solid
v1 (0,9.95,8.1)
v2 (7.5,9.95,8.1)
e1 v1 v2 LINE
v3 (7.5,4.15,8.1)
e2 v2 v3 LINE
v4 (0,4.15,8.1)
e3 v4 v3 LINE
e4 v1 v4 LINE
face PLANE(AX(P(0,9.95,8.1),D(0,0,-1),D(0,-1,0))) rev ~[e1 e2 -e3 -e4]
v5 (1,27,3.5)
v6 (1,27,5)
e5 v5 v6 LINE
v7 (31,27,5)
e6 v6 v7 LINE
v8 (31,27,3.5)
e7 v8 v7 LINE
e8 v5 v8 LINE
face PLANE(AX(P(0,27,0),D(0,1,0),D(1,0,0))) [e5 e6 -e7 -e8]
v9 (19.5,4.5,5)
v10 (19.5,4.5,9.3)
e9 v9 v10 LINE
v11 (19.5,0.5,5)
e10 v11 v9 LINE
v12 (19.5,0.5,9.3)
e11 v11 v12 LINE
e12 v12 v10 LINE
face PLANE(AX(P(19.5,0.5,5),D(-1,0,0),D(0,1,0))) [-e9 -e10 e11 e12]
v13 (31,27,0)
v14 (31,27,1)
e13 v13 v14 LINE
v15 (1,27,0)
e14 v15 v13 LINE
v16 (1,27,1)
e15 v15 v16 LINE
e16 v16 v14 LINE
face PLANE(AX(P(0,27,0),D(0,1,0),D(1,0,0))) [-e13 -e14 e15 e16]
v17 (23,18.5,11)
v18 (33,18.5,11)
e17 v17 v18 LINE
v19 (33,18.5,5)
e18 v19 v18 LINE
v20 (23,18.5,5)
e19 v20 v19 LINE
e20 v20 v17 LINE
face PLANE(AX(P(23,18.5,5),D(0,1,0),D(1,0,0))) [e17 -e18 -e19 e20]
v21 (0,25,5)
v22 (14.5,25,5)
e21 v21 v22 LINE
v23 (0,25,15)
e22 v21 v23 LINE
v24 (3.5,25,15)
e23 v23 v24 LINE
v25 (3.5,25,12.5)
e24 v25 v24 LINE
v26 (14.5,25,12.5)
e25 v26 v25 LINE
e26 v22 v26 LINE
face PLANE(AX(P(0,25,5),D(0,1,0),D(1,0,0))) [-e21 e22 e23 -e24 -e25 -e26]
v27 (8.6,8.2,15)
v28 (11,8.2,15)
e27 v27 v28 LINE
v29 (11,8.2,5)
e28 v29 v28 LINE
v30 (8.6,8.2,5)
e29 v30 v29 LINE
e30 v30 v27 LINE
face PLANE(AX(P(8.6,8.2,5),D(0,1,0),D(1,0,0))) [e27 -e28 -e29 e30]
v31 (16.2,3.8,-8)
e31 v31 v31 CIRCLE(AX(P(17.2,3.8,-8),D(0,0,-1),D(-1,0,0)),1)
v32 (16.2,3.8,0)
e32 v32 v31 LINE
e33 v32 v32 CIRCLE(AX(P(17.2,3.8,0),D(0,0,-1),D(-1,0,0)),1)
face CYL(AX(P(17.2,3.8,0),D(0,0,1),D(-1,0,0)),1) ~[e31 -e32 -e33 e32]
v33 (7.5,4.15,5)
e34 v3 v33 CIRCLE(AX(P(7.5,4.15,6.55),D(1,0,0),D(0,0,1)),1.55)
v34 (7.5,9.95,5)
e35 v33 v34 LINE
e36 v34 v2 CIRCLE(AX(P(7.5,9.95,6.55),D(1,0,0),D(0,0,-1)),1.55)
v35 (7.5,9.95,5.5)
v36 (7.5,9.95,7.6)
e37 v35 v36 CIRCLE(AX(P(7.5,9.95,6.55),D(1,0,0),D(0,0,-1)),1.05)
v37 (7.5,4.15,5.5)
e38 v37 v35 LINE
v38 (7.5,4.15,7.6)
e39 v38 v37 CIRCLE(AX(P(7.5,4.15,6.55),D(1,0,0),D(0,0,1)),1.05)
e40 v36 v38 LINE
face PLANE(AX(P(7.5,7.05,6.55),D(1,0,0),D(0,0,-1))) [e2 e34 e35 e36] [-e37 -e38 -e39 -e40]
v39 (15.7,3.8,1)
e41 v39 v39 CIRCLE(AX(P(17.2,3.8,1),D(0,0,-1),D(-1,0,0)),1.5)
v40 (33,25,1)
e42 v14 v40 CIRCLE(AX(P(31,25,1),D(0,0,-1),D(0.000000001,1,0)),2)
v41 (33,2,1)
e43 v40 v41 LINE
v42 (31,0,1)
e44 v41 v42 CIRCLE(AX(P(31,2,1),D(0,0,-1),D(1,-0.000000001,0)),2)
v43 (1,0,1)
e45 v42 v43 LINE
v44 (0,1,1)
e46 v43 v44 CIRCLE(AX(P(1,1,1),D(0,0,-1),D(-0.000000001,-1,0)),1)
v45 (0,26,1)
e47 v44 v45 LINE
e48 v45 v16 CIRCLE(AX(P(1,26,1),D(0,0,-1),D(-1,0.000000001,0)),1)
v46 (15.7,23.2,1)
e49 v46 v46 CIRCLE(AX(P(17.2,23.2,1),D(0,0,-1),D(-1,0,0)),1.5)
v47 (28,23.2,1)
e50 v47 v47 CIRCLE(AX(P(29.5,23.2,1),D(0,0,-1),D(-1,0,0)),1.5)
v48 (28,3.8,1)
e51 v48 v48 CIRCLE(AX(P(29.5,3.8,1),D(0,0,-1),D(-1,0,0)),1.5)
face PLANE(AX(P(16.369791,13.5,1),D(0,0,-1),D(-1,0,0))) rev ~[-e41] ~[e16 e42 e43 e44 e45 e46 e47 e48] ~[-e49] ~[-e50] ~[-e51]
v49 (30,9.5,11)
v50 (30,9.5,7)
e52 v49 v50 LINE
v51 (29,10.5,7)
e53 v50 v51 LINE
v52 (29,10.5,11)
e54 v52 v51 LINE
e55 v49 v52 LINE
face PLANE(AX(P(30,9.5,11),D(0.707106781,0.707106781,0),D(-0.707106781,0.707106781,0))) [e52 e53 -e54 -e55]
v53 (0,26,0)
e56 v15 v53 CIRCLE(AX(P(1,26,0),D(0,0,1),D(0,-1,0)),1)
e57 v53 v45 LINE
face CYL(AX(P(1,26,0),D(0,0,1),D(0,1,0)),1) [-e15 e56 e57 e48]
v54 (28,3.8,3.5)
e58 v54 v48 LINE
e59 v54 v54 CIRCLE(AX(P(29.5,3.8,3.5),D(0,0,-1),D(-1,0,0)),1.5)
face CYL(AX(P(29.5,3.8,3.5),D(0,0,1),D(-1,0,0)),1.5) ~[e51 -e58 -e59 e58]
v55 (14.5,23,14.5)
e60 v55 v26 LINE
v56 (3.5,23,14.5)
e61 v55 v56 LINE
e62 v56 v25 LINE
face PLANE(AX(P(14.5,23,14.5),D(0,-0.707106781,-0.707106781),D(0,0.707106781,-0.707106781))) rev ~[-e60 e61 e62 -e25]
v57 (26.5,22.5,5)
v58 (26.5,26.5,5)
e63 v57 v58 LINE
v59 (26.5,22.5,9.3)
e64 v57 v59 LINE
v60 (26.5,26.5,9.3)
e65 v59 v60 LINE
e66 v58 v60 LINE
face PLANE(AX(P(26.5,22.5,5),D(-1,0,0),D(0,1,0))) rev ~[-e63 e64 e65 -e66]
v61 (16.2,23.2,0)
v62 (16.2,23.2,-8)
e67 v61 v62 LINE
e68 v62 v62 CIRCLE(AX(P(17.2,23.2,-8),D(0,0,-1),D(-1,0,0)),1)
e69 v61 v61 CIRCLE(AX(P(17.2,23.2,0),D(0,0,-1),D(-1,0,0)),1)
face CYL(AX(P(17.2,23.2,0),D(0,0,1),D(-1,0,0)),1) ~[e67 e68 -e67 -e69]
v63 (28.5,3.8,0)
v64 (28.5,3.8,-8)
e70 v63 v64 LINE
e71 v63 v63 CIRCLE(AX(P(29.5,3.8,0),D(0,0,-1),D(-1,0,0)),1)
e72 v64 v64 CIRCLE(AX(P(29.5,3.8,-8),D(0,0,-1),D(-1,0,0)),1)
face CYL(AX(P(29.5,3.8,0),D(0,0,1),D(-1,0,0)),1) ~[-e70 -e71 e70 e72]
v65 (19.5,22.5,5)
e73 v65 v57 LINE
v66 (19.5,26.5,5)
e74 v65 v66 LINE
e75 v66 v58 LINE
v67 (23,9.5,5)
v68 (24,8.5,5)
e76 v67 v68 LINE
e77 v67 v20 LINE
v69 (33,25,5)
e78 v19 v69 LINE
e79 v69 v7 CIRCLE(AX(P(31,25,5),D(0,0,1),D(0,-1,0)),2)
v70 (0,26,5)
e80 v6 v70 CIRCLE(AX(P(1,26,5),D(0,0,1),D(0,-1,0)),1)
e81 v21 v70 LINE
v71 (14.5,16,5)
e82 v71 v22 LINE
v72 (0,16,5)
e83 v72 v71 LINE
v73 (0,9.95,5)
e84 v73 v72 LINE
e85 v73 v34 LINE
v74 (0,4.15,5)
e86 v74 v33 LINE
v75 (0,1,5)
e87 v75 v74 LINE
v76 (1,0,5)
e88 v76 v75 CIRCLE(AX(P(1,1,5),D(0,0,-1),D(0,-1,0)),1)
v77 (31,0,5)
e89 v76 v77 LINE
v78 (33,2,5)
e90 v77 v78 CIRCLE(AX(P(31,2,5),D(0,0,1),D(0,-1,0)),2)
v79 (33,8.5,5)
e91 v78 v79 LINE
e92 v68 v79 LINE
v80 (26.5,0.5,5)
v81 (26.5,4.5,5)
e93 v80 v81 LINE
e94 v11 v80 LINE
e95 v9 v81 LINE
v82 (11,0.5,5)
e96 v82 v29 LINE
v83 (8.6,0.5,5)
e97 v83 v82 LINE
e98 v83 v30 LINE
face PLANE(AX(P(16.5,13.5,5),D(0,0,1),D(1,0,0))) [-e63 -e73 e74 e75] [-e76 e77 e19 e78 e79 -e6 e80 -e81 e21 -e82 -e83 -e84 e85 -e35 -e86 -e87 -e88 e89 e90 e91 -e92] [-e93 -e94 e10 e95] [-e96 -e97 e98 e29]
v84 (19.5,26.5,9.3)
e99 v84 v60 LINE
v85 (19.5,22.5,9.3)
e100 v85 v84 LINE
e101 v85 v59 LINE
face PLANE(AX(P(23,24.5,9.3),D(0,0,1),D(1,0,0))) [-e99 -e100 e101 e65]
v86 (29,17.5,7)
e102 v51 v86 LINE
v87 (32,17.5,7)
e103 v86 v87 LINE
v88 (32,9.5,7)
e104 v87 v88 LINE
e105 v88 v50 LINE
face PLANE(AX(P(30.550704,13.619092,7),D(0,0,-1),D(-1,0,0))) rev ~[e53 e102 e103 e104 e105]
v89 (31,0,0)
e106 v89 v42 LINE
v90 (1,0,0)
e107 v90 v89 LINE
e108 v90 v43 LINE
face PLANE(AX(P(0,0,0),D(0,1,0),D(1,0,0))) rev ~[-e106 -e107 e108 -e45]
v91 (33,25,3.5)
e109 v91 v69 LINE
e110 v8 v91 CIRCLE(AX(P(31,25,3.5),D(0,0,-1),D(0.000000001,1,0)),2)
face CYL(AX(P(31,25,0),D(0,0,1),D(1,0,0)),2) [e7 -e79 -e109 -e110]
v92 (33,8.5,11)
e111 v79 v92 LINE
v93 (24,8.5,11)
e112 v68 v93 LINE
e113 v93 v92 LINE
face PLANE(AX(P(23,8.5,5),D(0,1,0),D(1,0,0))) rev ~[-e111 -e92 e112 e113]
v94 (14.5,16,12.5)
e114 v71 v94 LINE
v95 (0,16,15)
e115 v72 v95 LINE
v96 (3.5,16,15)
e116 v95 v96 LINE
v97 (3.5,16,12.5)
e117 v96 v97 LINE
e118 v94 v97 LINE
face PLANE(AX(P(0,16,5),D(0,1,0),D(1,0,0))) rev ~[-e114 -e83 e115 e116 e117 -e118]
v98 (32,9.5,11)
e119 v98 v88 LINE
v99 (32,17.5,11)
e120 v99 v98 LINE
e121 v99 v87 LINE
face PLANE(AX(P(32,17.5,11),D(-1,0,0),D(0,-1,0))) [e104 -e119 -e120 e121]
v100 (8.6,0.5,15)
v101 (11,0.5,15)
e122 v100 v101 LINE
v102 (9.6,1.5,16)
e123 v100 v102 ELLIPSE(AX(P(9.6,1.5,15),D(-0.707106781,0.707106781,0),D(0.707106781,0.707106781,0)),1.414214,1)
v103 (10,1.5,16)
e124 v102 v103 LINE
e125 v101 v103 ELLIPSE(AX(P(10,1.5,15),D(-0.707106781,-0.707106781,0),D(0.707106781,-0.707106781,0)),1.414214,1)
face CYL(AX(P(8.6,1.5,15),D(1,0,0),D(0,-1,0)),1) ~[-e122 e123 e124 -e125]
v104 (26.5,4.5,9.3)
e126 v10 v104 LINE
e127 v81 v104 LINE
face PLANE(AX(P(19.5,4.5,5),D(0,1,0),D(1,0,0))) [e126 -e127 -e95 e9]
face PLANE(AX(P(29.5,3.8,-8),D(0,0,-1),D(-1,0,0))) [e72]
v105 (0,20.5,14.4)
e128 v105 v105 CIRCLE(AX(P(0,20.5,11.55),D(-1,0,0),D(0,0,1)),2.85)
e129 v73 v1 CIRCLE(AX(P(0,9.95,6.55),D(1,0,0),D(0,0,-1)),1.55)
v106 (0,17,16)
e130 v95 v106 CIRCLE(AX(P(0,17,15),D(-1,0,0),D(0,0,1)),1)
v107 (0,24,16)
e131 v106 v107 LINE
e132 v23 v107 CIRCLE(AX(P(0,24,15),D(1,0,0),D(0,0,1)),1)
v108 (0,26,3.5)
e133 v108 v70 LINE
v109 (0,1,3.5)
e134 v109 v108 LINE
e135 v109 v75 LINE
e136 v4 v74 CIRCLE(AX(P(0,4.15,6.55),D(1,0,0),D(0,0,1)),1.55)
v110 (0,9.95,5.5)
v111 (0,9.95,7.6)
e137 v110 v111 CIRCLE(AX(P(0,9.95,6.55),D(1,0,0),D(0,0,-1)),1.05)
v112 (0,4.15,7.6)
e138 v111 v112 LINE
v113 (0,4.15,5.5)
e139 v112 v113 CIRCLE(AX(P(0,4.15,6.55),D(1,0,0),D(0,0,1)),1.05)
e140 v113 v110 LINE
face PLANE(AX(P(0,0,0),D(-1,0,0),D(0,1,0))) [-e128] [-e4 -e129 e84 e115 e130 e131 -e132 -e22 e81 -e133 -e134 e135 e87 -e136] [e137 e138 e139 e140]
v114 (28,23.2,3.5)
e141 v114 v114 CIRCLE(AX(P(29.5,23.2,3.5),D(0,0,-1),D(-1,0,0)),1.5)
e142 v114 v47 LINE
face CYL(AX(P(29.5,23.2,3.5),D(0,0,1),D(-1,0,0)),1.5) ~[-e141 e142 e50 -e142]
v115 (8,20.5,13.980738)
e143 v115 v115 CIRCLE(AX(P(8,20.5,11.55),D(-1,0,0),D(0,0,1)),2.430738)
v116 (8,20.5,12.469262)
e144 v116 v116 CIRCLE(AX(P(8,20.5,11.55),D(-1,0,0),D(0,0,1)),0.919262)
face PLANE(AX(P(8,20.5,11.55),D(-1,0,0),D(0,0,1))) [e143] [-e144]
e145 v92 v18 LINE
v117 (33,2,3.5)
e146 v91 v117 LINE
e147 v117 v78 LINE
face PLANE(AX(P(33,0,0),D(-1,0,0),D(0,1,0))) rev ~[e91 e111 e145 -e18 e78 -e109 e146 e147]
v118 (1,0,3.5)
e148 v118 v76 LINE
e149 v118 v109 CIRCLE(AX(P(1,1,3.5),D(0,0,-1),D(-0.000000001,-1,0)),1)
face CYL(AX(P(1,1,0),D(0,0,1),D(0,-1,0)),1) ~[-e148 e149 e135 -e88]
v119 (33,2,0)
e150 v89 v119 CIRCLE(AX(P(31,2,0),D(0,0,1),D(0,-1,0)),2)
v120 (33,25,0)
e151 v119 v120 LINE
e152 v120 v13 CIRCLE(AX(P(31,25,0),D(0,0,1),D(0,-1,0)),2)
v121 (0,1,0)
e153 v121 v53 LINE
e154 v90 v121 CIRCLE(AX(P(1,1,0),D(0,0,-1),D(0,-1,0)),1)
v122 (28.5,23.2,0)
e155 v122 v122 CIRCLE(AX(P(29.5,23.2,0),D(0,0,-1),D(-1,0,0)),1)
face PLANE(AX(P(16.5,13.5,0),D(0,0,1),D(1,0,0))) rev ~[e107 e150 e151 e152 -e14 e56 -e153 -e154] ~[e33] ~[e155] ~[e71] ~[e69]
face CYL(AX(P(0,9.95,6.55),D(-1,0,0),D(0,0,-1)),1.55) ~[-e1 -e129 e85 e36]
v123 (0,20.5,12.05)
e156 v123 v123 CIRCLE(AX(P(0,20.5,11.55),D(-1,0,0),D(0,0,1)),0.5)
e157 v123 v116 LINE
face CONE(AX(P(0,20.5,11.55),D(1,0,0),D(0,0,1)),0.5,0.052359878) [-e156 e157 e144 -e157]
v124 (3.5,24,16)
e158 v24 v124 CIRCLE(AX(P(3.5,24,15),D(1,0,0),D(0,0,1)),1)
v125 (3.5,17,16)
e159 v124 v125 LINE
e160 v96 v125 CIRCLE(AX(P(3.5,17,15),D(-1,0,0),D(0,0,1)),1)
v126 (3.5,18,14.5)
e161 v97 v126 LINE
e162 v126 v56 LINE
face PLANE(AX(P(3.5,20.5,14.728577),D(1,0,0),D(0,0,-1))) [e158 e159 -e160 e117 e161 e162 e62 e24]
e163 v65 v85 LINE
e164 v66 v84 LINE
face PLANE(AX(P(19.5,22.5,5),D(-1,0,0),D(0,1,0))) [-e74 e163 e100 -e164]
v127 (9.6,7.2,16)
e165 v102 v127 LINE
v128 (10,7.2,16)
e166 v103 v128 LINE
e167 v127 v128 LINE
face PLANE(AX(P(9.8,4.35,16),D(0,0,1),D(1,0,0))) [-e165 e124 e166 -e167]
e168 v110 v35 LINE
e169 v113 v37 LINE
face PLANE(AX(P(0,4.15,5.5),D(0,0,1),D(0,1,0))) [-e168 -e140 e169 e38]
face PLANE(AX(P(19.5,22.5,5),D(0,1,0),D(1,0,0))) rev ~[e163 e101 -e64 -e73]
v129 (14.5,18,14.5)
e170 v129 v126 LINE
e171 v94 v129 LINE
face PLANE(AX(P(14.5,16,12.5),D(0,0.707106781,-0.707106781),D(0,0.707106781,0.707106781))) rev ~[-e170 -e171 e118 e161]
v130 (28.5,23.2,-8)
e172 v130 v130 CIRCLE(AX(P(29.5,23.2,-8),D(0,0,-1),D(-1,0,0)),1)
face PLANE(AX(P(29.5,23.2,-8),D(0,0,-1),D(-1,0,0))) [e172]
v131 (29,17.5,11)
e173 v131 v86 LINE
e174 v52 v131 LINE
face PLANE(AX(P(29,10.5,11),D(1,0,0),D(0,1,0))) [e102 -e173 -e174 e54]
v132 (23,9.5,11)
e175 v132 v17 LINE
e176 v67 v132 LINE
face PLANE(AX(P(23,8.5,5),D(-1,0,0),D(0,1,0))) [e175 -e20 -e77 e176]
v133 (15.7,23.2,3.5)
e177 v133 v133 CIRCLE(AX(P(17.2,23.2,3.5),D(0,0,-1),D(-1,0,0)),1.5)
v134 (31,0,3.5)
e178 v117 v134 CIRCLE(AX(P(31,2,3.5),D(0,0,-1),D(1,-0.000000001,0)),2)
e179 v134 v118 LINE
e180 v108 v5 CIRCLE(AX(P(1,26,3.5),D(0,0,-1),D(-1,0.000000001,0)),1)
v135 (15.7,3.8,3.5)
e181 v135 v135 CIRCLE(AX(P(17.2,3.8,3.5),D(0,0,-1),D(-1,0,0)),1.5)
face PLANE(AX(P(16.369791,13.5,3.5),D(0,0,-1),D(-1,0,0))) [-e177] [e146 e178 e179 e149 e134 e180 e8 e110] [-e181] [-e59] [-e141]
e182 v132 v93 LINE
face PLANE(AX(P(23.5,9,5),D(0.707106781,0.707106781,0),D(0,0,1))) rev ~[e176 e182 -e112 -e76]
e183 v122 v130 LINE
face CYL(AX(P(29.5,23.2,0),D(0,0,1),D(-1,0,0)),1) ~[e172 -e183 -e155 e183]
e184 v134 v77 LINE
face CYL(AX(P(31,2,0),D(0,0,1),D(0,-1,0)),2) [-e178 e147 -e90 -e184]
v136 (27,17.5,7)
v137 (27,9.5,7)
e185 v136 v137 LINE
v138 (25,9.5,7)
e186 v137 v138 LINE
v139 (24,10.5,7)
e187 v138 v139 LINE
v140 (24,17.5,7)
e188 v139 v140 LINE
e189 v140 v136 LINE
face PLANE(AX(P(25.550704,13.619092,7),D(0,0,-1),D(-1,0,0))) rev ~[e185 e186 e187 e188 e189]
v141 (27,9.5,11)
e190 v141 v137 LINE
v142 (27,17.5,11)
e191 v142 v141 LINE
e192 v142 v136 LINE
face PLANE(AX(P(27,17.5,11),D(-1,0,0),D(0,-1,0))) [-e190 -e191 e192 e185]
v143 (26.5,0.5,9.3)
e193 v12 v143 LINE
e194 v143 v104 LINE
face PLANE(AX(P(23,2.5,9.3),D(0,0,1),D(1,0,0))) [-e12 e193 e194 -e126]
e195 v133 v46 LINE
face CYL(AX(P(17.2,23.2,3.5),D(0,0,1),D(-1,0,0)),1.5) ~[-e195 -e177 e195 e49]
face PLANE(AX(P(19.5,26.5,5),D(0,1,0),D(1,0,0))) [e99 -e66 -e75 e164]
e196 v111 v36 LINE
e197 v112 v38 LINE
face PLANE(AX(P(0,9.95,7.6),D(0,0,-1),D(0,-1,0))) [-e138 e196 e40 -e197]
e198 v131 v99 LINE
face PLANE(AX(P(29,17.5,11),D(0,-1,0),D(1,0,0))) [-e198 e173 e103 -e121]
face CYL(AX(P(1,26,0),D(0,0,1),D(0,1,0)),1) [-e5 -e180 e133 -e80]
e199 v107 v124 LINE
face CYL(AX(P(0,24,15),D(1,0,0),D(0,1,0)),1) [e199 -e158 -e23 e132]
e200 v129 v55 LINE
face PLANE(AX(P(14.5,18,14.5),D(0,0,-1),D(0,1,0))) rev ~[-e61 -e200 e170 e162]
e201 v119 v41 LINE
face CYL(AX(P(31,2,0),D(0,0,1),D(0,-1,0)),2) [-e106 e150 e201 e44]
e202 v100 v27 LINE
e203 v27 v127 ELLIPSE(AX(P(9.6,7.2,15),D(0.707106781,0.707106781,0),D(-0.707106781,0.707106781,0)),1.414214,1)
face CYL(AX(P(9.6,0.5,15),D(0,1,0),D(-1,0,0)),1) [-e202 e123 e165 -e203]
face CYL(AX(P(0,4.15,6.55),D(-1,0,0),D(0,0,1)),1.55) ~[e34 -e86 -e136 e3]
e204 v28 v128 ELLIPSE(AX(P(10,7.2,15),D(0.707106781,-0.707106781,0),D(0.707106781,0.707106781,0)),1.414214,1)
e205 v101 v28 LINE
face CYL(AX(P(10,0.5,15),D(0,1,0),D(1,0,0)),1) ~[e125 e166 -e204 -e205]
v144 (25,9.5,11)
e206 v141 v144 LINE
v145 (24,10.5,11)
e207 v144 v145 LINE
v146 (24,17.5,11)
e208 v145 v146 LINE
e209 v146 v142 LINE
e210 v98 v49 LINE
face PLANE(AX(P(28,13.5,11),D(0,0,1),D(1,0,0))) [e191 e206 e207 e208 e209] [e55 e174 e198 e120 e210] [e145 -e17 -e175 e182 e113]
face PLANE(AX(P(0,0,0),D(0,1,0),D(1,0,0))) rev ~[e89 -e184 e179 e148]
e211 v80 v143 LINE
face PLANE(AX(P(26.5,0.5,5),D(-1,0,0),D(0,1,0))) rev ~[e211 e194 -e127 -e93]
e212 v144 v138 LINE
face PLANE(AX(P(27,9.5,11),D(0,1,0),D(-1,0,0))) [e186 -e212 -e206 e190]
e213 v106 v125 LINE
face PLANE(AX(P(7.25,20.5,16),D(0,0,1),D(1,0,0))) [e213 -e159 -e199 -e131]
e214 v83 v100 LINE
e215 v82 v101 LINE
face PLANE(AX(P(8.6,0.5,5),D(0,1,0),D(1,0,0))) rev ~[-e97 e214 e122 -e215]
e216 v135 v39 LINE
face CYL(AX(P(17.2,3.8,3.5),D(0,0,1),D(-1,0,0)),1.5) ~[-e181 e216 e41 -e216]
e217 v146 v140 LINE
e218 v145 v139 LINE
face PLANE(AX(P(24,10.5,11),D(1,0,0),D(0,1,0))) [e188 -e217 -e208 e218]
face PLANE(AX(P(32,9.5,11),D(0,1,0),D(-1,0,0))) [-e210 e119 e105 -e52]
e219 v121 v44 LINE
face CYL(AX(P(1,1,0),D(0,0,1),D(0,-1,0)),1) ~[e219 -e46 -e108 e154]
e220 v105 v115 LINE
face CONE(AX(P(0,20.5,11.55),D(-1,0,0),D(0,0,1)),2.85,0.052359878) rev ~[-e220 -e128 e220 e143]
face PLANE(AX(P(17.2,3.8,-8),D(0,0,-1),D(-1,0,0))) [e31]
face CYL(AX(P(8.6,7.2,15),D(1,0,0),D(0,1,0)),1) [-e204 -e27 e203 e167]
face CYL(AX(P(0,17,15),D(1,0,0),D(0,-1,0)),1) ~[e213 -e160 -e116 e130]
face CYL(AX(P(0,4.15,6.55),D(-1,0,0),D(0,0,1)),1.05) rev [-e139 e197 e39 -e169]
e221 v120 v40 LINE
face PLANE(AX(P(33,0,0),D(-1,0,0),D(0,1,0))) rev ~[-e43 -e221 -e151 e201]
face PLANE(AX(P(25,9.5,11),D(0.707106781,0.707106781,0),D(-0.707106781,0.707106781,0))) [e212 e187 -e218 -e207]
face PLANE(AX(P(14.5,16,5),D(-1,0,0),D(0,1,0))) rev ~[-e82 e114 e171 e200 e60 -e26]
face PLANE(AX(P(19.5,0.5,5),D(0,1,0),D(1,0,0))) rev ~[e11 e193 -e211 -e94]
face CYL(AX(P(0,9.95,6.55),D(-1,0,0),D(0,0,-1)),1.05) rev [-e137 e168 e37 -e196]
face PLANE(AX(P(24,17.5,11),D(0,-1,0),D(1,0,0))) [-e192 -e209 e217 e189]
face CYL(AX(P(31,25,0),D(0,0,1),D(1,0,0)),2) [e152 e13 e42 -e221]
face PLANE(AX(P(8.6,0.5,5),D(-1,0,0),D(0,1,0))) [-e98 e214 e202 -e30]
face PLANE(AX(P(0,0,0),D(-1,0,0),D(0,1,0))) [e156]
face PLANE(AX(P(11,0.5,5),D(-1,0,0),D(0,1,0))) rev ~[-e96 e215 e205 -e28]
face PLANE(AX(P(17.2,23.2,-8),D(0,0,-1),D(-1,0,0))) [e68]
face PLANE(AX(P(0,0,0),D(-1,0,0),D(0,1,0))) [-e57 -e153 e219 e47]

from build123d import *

# Parameters (mm, degrees)
SKETCH_1_W          = 33
SKETCH_1_H          = 27
EXTRUDE_1_DEPTH     = 5
FILLET_1_R          = 2
SKETCH_2_R          = 1
EXTRUDE_2_DEPTH     = 8
SKETCH_3_W          = 10
SKETCH_3_H          = 10
EXTRUDE_3_DEPTH     = 6
CHAMFER_1_SIZE      = 1
CUT_EXTRUDE_1_DEPTH = 4
SKETCH_5_W          = 14.5
SKETCH_5_H          = 9
SKETCH_5_W_2        = 2.4
SKETCH_5_H_2        = 7.7
EXTRUDE_4_DEPTH     = 11
SKETCH_6_R          = 2.85
SKETCH_6_R_2        = 0.5
CUT_EXTRUDE_2_DEPTH = 8
CUT_EXTRUDE_2_DRAFT = -3
CUT_EXTRUDE_3_DEPTH = 11
EXTRUDE_5_DEPTH     = 7.5
SKETCH_9_W          = 7
SKETCH_9_H          = 4
EXTRUDE_6_DEPTH     = 4.3
FILLET_2_R          = 1
CUT_EXTRUDE_START   = -3.5
SKETCH_10_R         = 1.5
CUT_EXTRUDE_4_DEPTH = 2.5


with BuildPart() as part:
    # 草图1 → 凸台-拉伸1 (new body)
    with BuildSketch(Plane.XY):
        with Locations((16.5, 13.5)):
            Rectangle(SKETCH_1_W, SKETCH_1_H)
    extrude(amount=EXTRUDE_1_DEPTH)

    # 圆角1
    fillet_1_edges = [part.edges().sort_by_distance(p)[0] for p in [
        (33, 27, 2.5),
        (33, 0, 2.5),
    ]]
    fillet(fillet_1_edges, radius=FILLET_1_R)

    # 草图2 → 凸台-拉伸2 (add)
    with BuildSketch(Plane(origin=(0, 0, 0), x_dir=(-1, 0, 0), z_dir=(0, 0, -1))):
        with Locations((-17.2, 23.2)):
            Circle(SKETCH_2_R)
        with Locations((-29.5, 23.2)):
            Circle(SKETCH_2_R)
        with Locations((-29.5, 3.8)):
            Circle(SKETCH_2_R)
        with Locations((-17.2, 3.8)):
            Circle(SKETCH_2_R)
    extrude(amount=EXTRUDE_2_DEPTH)

    # 草图3 → 凸台-拉伸3 (add)
    with BuildSketch(Plane.XY.offset(5)):
        with Locations((28, 13.5)):
            Rectangle(SKETCH_3_W, SKETCH_3_H)
    extrude(amount=EXTRUDE_3_DEPTH)

    # 倒角1
    chamfer_1_edges = [part.edges().sort_by_distance(p)[0] for p in [
        (23, 8.5, 8),
    ]]
    chamfer(chamfer_1_edges, length=CHAMFER_1_SIZE)

    # 草图4 → 切除-拉伸1 (cut)
    with BuildSketch(Plane.XY.offset(11)):
        Polygon((24, 17.5), (27, 17.5), (27, 9.5), (25, 9.5), (24, 10.5), align=None)
        Polygon((29, 17.5), (32, 17.5), (32, 9.5), (30, 9.5), (29, 10.5), align=None)
    extrude(amount=-CUT_EXTRUDE_1_DEPTH, mode=Mode.SUBTRACT)

    # 草图5 → 凸台-拉伸4 (add)
    with BuildSketch(Plane.XY.offset(5)):
        with Locations((7.25, 20.5)):
            Rectangle(SKETCH_5_W, SKETCH_5_H)
        with Locations((9.8, 4.35)):
            Rectangle(SKETCH_5_W_2, SKETCH_5_H_2)
    extrude(amount=EXTRUDE_4_DEPTH)


with BuildPart() as cut_extrude_2_tool:
    # 草图6 → 切除-拉伸2 (with draft: the straight prism first)
    with BuildSketch(Plane.ZY):
        with Locations((11.55, 20.5)):
            Circle(SKETCH_6_R)
        with Locations((11.55, 20.5)):
            Circle(SKETCH_6_R_2, mode=Mode.SUBTRACT)
    extrude(amount=-CUT_EXTRUDE_2_DEPTH)
    # 切除-拉伸2: the draft: its side faces are tilted about the plane it starts from
    cut_extrude_2_sides = [cut_extrude_2_tool.faces().sort_by_distance(p)[0] for p in [
        (4, 20.5, 8.7),
        (4, 20.5, 11.05),
    ]]
    draft(cut_extrude_2_sides, Plane.ZY, CUT_EXTRUDE_2_DRAFT)


with BuildPart() as part_1:
    add(part.part)

    # 切除-拉伸2: cut by cut_extrude_2_tool
    add(cut_extrude_2_tool.part, mode=Mode.SUBTRACT)

    # 草图7 → 切除-拉伸3 (cut)
    with BuildSketch(Plane(origin=(14.5, 0, 0), x_dir=(0, 0, -1), z_dir=(1, 0, 0))):
        Polygon((-14.5, 18), (-14.5, 23), (-12.5, 25), (-16, 25), (-16, 16), (-12.5, 16), align=None)
    extrude(amount=-CUT_EXTRUDE_3_DEPTH, mode=Mode.SUBTRACT)

    # 草图8 → 凸台-拉伸5 (add)
    with BuildSketch(Plane.ZY):
        with BuildLine():
            Line((8.1, 9.95), (8.1, 4.15))
            ThreePointArc((8.1, 4.15), (6.55, 2.6), (5, 4.15))
            Line((5, 4.15), (5, 9.95))
            ThreePointArc((5, 9.95), (6.55, 11.5), (8.1, 9.95))
        make_face()
        with BuildLine():
            Line((7.6, 9.95), (7.6, 4.15))
            ThreePointArc((7.6, 4.15), (6.55, 3.1), (5.5, 4.15))
            Line((5.5, 4.15), (5.5, 9.95))
            ThreePointArc((5.5, 9.95), (6.55, 11), (7.6, 9.95))
        make_face(mode=Mode.SUBTRACT)
    extrude(amount=-EXTRUDE_5_DEPTH)

    # 草图9 → 凸台-拉伸6 (add)
    with BuildSketch(Plane.XY.offset(5)):
        with Locations((23, 24.5)):
            Rectangle(SKETCH_9_W, SKETCH_9_H)
        with Locations((23, 2.5)):
            Rectangle(SKETCH_9_W, SKETCH_9_H)
    extrude(amount=EXTRUDE_6_DEPTH)

    # 圆角2
    fillet_2_edges = [part_1.edges().sort_by_distance(p)[0] for p in [
        (1.75, 16, 16),
        (8.6, 4.35, 16),
        (9.8, 0.5, 16),
        (11, 4.35, 16),
        (9.8, 8.2, 16),
        (1.75, 25, 16),
        (0, 27, 2.5),
        (0, 0, 2.5),
    ]]
    fillet(fillet_2_edges, radius=FILLET_2_R)

    # 草图10 → 切除-拉伸4 (cut)
    with BuildSketch(Plane(origin=(0, 0, 0), x_dir=(-1, 0, 0), z_dir=(0, 0, -1)).offset(CUT_EXTRUDE_START)):
        with BuildLine():
            ThreePointArc((-33, 2), (-32.414213562, 0.585786438), (-31, 0))
            Line((-31, 0), (-1, 0))
            ThreePointArc((-1, 0), (-0.292893219, 0.292893219), (0, 1))
            Line((0, 1), (0, 26))
            ThreePointArc((0, 26), (-0.292893219, 26.707106781), (-1, 27))
            Line((-1, 27), (-31, 27))
            ThreePointArc((-31, 27), (-32.414213562, 26.414213562), (-33, 25))
            Line((-33, 25), (-33, 2))
        make_face()
        with Locations((-17.2, 3.8)):
            Circle(SKETCH_10_R, mode=Mode.SUBTRACT)
        with Locations((-29.5, 3.8)):
            Circle(SKETCH_10_R, mode=Mode.SUBTRACT)
        with Locations((-17.2, 23.2)):
            Circle(SKETCH_10_R, mode=Mode.SUBTRACT)
        with Locations((-29.5, 23.2)):
            Circle(SKETCH_10_R, mode=Mode.SUBTRACT)
    extrude(amount=CUT_EXTRUDE_4_DEPTH, mode=Mode.SUBTRACT)


solid = part_1.part
